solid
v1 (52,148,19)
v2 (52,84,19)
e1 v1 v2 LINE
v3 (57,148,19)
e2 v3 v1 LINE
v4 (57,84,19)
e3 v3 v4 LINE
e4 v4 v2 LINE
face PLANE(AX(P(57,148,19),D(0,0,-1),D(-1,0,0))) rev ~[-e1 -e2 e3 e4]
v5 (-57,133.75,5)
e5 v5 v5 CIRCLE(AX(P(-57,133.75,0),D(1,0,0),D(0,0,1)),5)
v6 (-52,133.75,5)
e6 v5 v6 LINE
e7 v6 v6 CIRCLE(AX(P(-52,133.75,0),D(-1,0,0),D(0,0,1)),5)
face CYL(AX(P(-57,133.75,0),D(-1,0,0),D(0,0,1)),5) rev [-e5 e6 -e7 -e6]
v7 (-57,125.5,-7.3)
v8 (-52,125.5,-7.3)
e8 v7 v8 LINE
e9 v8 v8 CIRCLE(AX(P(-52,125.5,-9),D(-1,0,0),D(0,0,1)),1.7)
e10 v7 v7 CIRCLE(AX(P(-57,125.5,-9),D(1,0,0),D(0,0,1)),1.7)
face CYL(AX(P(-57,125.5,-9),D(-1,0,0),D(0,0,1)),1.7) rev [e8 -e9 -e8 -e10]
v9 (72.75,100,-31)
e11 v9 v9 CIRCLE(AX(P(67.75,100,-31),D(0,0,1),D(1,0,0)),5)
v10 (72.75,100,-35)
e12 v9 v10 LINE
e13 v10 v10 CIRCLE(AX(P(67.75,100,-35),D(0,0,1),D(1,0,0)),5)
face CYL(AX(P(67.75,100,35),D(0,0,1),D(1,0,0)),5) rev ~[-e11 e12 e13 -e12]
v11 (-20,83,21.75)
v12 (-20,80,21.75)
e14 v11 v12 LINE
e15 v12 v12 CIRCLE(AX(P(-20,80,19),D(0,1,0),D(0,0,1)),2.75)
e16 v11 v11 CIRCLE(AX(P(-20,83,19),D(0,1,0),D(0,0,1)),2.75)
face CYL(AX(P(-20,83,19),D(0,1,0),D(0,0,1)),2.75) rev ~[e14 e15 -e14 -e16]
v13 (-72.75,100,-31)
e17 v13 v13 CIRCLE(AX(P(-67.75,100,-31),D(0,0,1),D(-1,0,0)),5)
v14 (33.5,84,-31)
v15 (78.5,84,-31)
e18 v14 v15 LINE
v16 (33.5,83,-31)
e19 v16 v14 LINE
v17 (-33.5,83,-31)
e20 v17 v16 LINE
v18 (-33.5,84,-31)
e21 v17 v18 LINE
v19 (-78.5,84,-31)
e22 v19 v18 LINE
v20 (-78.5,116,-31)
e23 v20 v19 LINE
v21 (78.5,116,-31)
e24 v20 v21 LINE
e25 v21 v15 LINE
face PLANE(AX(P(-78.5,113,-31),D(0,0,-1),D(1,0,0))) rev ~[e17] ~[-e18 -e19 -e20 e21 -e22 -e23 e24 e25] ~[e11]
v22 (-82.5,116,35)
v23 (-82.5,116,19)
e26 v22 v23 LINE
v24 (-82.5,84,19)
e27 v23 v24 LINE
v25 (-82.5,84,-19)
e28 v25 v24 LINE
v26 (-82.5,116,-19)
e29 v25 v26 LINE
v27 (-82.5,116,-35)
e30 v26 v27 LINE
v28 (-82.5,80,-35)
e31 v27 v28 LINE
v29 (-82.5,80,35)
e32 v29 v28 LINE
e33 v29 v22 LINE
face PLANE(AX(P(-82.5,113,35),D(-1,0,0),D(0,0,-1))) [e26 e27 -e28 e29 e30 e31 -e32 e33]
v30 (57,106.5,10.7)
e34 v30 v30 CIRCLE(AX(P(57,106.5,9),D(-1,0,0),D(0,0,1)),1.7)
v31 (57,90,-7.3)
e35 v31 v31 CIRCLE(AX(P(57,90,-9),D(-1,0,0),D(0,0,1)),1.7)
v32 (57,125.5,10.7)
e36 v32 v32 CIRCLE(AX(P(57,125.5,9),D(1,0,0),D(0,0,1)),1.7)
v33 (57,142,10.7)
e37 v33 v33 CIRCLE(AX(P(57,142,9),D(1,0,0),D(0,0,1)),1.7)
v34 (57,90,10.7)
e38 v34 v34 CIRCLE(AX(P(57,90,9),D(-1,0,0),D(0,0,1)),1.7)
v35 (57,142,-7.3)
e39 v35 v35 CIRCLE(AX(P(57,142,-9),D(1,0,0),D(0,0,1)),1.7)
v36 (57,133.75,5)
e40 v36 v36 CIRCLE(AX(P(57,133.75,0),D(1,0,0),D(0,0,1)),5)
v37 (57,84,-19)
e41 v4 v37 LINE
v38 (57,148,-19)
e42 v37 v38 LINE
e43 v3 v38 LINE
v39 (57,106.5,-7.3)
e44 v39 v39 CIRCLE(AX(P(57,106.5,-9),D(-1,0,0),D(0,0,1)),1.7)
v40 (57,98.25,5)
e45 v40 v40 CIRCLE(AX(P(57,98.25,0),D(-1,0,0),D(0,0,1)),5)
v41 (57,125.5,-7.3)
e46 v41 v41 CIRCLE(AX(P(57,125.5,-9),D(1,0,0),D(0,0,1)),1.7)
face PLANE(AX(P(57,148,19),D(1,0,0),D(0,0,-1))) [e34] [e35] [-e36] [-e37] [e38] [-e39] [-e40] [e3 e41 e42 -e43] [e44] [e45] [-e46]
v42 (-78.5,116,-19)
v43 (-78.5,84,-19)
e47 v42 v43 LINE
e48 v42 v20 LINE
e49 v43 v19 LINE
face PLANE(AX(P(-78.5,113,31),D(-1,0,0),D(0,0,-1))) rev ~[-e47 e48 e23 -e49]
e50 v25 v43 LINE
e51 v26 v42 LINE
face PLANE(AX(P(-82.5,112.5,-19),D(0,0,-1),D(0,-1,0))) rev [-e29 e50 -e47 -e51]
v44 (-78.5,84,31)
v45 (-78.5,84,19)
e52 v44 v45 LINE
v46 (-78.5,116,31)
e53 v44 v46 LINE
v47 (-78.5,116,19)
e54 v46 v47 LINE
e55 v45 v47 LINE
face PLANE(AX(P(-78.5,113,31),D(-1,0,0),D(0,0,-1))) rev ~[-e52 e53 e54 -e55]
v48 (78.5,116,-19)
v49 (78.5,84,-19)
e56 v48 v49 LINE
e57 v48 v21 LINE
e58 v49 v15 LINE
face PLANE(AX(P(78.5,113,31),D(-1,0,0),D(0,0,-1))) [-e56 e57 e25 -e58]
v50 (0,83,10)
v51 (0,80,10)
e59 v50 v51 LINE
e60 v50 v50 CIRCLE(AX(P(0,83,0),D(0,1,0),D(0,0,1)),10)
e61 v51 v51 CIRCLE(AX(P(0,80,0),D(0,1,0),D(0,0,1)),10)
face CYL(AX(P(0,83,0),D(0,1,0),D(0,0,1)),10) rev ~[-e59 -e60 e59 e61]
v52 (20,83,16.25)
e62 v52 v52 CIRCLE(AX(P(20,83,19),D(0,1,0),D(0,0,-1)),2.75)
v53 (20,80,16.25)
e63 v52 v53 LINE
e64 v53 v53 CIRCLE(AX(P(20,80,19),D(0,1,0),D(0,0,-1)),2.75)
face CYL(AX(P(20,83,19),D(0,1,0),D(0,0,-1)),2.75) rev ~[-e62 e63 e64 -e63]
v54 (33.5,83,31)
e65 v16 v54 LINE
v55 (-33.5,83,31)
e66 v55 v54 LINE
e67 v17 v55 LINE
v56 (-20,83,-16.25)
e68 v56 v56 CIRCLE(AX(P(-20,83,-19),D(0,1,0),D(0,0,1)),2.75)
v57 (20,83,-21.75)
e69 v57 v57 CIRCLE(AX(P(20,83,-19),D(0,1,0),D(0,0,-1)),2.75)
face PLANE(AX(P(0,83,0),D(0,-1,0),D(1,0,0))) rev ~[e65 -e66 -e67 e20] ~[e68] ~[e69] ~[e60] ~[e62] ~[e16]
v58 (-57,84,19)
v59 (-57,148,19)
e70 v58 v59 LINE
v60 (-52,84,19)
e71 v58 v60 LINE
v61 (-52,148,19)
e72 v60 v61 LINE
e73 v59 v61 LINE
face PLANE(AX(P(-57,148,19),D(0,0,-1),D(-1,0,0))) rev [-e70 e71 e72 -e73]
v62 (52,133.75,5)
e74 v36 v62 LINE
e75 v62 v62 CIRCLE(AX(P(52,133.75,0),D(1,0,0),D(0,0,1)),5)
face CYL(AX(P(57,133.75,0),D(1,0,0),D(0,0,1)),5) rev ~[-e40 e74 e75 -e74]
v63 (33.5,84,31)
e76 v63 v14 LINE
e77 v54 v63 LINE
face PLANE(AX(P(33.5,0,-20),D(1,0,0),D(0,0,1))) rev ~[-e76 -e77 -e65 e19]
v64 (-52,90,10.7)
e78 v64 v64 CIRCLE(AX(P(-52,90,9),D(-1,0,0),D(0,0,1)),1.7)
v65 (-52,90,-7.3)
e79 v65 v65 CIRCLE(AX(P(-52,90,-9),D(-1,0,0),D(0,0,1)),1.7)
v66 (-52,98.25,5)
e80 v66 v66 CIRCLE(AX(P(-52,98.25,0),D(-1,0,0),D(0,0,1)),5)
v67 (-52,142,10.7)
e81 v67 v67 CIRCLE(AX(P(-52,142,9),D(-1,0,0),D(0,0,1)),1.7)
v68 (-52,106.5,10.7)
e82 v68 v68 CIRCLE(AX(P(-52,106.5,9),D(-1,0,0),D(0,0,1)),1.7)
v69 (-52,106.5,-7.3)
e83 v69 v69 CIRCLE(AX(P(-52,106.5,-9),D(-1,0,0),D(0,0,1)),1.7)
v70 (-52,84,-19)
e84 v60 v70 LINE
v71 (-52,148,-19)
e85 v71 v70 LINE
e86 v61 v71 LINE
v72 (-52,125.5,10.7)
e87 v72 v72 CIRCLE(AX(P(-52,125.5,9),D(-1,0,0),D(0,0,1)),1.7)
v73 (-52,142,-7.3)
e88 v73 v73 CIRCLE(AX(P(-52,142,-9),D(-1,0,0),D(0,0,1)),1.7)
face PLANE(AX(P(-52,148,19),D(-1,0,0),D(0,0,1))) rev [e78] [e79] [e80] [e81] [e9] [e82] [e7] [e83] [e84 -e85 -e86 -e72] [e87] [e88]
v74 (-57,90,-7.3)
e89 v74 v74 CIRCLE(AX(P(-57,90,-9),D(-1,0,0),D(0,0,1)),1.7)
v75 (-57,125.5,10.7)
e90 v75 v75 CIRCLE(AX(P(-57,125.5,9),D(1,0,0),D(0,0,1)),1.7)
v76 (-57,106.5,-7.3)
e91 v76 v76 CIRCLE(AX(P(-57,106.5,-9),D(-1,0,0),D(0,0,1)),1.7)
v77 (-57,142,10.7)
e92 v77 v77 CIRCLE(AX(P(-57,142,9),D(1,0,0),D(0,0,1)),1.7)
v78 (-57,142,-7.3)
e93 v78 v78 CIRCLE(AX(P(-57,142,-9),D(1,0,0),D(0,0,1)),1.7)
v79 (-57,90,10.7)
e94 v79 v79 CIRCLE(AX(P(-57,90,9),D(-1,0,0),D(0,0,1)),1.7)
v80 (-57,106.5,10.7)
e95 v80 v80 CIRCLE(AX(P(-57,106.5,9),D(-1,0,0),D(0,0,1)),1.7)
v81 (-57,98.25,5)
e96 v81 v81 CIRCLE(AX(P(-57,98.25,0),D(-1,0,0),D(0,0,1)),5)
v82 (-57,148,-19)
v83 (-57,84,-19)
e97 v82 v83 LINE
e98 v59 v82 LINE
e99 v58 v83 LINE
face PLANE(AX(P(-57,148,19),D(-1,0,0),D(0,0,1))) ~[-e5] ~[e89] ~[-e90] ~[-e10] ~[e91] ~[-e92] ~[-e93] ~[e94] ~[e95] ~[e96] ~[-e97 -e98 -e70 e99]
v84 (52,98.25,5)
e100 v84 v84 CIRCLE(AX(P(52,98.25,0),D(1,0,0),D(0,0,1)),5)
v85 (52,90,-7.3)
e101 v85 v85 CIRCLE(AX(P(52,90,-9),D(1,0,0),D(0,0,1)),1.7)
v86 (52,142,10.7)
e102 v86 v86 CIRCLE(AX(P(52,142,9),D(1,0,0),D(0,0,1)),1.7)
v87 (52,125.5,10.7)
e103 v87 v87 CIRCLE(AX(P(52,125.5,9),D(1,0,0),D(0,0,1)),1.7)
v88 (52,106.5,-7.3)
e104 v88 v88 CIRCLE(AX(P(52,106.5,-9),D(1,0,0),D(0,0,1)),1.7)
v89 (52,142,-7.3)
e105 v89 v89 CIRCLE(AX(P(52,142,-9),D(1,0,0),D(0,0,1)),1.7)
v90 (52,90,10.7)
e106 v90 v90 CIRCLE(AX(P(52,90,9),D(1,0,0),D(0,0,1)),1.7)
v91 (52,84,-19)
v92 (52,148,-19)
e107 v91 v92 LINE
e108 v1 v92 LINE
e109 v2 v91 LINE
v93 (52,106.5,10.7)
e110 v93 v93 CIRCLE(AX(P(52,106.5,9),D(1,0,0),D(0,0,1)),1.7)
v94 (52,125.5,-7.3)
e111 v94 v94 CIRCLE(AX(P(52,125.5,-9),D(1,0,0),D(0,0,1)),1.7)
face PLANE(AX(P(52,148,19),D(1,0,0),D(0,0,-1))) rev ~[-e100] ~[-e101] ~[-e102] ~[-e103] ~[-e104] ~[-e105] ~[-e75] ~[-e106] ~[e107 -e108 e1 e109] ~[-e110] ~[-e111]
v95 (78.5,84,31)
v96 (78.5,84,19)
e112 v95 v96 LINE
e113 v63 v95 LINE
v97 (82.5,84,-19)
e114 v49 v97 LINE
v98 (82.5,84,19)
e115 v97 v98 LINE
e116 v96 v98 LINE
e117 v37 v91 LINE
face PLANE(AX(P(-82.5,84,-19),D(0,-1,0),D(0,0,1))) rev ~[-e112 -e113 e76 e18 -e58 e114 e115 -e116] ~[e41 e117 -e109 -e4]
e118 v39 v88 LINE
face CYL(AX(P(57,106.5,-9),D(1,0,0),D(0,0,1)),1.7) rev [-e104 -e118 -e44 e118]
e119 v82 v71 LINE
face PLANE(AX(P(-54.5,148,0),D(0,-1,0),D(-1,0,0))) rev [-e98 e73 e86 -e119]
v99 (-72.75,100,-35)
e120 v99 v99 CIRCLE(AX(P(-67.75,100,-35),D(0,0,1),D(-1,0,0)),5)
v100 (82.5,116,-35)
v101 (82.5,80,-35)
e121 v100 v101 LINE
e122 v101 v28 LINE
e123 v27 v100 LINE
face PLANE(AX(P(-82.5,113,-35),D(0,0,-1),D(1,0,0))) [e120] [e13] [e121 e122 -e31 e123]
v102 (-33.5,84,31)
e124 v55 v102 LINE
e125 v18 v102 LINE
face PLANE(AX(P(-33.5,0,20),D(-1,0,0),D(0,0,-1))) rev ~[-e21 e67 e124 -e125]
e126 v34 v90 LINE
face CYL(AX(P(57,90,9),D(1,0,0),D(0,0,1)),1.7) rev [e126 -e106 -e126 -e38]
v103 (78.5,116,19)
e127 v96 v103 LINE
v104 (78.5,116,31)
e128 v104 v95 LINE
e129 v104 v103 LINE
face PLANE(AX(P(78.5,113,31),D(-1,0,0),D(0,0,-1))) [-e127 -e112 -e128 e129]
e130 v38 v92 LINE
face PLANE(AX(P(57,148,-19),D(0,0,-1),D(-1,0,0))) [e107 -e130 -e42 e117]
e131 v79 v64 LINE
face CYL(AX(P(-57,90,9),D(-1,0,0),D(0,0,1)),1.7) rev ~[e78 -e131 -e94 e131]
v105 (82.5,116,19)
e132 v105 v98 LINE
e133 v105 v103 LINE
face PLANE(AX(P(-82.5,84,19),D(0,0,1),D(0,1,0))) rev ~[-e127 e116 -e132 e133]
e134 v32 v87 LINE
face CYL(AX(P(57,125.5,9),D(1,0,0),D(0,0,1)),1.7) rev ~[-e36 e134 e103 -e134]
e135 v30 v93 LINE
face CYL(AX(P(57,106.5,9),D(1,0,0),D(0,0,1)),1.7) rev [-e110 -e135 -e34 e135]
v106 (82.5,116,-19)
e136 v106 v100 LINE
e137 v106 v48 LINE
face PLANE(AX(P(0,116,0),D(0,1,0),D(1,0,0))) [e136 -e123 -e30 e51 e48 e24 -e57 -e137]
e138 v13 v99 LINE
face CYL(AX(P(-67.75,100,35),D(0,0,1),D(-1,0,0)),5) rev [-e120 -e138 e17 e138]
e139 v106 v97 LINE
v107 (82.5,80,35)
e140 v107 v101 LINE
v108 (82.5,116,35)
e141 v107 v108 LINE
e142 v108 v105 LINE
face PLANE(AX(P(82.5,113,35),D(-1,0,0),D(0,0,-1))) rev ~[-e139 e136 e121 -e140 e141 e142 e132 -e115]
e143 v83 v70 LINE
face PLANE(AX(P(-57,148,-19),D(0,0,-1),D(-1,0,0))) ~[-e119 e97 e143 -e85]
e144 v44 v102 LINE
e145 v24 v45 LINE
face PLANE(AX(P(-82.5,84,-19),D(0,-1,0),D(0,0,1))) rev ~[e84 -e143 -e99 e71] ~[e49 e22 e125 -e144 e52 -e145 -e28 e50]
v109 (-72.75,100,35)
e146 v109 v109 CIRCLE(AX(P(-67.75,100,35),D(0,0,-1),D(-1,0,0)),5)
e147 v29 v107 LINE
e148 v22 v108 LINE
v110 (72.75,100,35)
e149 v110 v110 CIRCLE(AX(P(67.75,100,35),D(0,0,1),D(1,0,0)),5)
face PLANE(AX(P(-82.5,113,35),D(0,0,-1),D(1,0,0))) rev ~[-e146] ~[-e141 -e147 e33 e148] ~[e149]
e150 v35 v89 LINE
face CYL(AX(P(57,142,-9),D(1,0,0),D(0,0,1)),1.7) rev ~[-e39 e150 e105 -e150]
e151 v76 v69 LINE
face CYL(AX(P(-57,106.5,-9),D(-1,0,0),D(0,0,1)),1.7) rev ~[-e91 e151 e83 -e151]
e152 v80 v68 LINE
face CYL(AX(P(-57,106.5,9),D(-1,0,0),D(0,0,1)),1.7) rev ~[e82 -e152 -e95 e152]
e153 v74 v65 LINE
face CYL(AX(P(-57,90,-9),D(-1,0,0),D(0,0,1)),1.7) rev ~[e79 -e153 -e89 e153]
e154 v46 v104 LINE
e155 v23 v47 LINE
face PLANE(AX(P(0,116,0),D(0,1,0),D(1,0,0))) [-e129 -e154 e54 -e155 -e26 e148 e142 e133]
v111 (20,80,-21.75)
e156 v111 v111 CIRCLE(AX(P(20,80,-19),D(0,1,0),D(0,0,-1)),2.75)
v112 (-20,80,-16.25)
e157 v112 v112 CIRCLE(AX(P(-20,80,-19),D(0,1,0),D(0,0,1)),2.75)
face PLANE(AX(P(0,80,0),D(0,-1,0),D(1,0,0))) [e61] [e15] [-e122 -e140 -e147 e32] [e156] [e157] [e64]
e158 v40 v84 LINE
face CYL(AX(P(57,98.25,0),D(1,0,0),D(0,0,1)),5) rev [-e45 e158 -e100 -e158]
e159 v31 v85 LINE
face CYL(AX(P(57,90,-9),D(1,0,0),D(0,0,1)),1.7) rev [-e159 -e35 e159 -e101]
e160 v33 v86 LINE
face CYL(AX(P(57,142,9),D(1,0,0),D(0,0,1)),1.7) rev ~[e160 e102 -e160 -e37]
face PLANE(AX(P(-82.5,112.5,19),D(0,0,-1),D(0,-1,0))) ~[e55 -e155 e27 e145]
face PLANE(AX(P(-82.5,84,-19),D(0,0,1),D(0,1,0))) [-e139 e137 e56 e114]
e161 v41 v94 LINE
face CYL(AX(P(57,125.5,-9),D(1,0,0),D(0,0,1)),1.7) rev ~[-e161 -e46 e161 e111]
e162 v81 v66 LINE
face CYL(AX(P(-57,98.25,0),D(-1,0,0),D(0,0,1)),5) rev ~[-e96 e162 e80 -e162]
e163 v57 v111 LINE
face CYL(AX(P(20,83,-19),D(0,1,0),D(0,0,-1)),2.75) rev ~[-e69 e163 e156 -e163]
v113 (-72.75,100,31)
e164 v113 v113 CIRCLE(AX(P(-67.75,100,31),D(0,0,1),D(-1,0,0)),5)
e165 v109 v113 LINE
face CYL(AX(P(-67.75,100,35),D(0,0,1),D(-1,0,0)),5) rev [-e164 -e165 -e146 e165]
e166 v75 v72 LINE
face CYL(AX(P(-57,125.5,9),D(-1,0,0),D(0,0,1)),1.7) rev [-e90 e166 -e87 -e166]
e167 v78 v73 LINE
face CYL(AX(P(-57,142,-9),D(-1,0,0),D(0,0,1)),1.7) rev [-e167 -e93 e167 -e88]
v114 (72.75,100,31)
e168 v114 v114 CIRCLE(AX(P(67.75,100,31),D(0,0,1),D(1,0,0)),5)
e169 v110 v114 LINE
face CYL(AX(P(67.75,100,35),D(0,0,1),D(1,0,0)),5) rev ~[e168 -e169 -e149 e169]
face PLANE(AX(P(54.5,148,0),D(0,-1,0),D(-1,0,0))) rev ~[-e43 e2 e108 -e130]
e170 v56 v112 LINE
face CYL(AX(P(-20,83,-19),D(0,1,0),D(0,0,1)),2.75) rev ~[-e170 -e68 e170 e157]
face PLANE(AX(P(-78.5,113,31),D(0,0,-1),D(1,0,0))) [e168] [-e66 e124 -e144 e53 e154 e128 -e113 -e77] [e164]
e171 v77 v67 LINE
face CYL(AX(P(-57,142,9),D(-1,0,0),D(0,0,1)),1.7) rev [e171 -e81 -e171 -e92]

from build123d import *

# Parameters (mm, degrees)
SKETCH1_W                 = 75
SKETCH1_H                 = 40
SKETCH1_R                 = 5
SKETCH1_R_2               = 1.7
SKETCH1_W_2               = 10
SKETCH1_H_2               = 20
BOSS_EXTRUDE1_DEPTH       = 3
CUT_EXTRUDE1_DEPTH        = 43.605750786
CUT_EXTRUDE1_DEPTH_BACK   = 43.605750786
SKETCH2_W                 = 67
SKETCH2_H                 = 28
BOSS_EXTRUDE3_DEPTH       = 110
BOSS_EXTRUDE3_DEPTH_BACK  = 3
SKETCH6_W                 = 67
SKETCH6_H                 = 11
CUT_EXTRUDE4_DEPTH        = 122.372360939
SKETCH7_W                 = 70
SKETCH7_H                 = 37
BOSS_EXTRUDE4_DEPTH       = 45
SKETCH8_W                 = 45
SKETCH8_H                 = 62
CUT_EXTRUDE6_DEPTH        = 29
SKETCH11_W                = 45
SKETCH11_H                = 4
CUT_EXTRUDE9_DEPTH        = 157.445677473
SKETCH9_W                 = 38
SKETCH9_H                 = 28.5
CUT_EXTRUDE10_DEPTH       = 204.024629048
SKETCH13_W                = 5
SKETCH13_H                = 38
BOSS_EXTRUDE5_DEPTH       = 32
SKETCH14_R                = 5
SKETCH14_R_2              = 1.7
CUT_EXTRUDE11_DEPTH       = 32
SKETCH15_W                = 165
SKETCH15_H                = 70
SKETCH15_W_2              = 157
SKETCH15_H_2              = 62
BOSS_EXTRUDE6_DEPTH       = 3
SKETCH16_W                = 20
SKETCH16_H                = 4.820648258
CUT_EXTRUDE12_DEPTH       = 159.626132778
SKETCH18_R                = 5
CUT_EXTRUDE14_DEPTH       = 159.626132778
MIRROR6_COPY_1_SKETCH_W   = 5
MIRROR6_COPY_1_SKETCH_H   = 38
MIRROR6_COPY_1_DEPTH      = 32
MIRROR6_COPY_2_SKETCH_R   = 5
MIRROR6_COPY_2_SKETCH_R_2 = 1.7
MIRROR6_COPY_2_DEPTH      = 32
SKETCH19_W                = 38
SKETCH19_H                = 3.5
CUT_EXTRUDE15_DEPTH       = 10
SKETCH20_R                = 1.2
CUT_EXTRUDE16_DEPTH       = 10
SKETCH21_W                = 10
SKETCH21_H                = 80
CUT_EXTRUDE17_DEPTH       = 184.330984833
SKETCH22_W                = 55
SKETCH22_H                = 80
CUT_EXTRUDE18_DEPTH       = 184.330984833
SKETCH23_W                = 67
SKETCH23_H                = 62
BOSS_EXTRUDE7_DEPTH       = 3
SKETCH24_R                = 10
SKETCH24_R_2              = 2.75
CUT_EXTRUDE19_DEPTH       = 111.707949127


with BuildPart() as part:
    # Sketch1 → Boss-Extrude1 (new body)
    with BuildSketch(Plane(origin=(0, 0, 0), x_dir=(1, 0, 0), z_dir=(0, 1, 0))):
        Rectangle(SKETCH1_W, SKETCH1_H)
        with Locations(Location((-21, 0, 0), (0, 0, 270))):
            Circle(SKETCH1_R, mode=Mode.SUBTRACT)
        with Locations(Location((-30, 8.25, 0), (0, 0, 270))):
            Circle(SKETCH1_R_2, mode=Mode.SUBTRACT)
        with Locations(Location((-12, 8.25, 0), (0, 0, 270))):
            Circle(SKETCH1_R_2, mode=Mode.SUBTRACT)
        with Locations(Location((-12, -8.25, 0), (0, 0, 270))):
            Circle(SKETCH1_R_2, mode=Mode.SUBTRACT)
        with Locations(Location((-30, -8.25, 0), (0, 0, 270))):
            Circle(SKETCH1_R_2, mode=Mode.SUBTRACT)
        with Locations(Location((12, 8.25, 0), (0, 0, 90))):
            Circle(SKETCH1_R_2, mode=Mode.SUBTRACT)
        with Locations(Location((12, -8.25, 0), (0, 0, 90))):
            Circle(SKETCH1_R_2, mode=Mode.SUBTRACT)
        with Locations(Location((21, 0, 0), (0, 0, 90))):
            Circle(SKETCH1_R, mode=Mode.SUBTRACT)
        with Locations(Location((30, -8.25, 0), (0, 0, 90))):
            Circle(SKETCH1_R_2, mode=Mode.SUBTRACT)
        with Locations(Location((30, 8.25, 0), (0, 0, 90))):
            Circle(SKETCH1_R_2, mode=Mode.SUBTRACT)
        Rectangle(SKETCH1_W_2, SKETCH1_H_2, mode=Mode.SUBTRACT)
    extrude(amount=BOSS_EXTRUDE1_DEPTH)

    # Sketch2 → Cut-Extrude1 (cut, two sides: drawn at the far end of the back side and taken through both)
    with BuildSketch(Plane(origin=(0, 3, 0), x_dir=(1, 0, 0), z_dir=(0, 1, 0)).offset(-CUT_EXTRUDE1_DEPTH_BACK)):
        Rectangle(SKETCH2_W, SKETCH2_H)
    extrude(amount=CUT_EXTRUDE1_DEPTH + CUT_EXTRUDE1_DEPTH_BACK, mode=Mode.SUBTRACT)

    # Sketch3 → Boss-Extrude3 (add, two sides: drawn at the far end of the back side and taken through both)
    with BuildSketch(Plane(origin=(0, 3, 0), x_dir=(1, 0, 0), z_dir=(0, 1, 0)).offset(-BOSS_EXTRUDE3_DEPTH_BACK)):
        Polygon((37.5, -35), (37.5, -20), (33.5, -20), (-33.5, -20), (-37.5, -20), (-37.5, -35), align=None)
        Polygon((33.5, 20), (37.5, 20), (37.5, 35), (-37.5, 35), (-37.5, 20), (-33.5, 20), align=None)
        Polygon((37.5, -20), (37.5, 20), (33.5, 20), (33.5, 14), (33.5, -14), (33.5, -20), align=None)
        Polygon((-33.5, 14), (-33.5, 20), (-37.5, 20), (-37.5, -20), (-33.5, -20), (-33.5, -14), align=None)
    extrude(amount=BOSS_EXTRUDE3_DEPTH + BOSS_EXTRUDE3_DEPTH_BACK)

    # Sketch6 → Cut-Extrude4 (cut, through all)
    with BuildSketch(Plane(origin=(0, 3, 0), x_dir=(1, 0, 0), z_dir=(0, 1, 0))):
        with Locations((0, -25.5)):
            Rectangle(SKETCH6_W, SKETCH6_H)
        with Locations((0, 25.5)):
            Rectangle(SKETCH6_W, SKETCH6_H)
    extrude(amount=CUT_EXTRUDE4_DEPTH, mode=Mode.SUBTRACT)

    # Sketch7 → Boss-Extrude4 (add)
    with BuildSketch(Plane.ZY.offset(37.5)):
        with Locations((0, 94.5)):
            Rectangle(SKETCH7_W, SKETCH7_H)
    boss_extrude4 = extrude(amount=BOSS_EXTRUDE4_DEPTH)

    # Mirror2: Boss-Extrude4 across plane
    add(boss_extrude4.mirror(Plane(origin=(0, 0, 0), x_dir=(0, 0, 1), z_dir=(1, 0, 0))))

    # Sketch8 → Cut-Extrude6 (cut)
    with BuildSketch(Plane(origin=(0, 113, 0), x_dir=(1, 0, 0), z_dir=(0, 1, 0))):
        with Locations((-56, 0)):
            Rectangle(SKETCH8_W, SKETCH8_H)
        with Locations((56, 0)):
            Rectangle(SKETCH8_W, SKETCH8_H)
    extrude(amount=-CUT_EXTRUDE6_DEPTH, mode=Mode.SUBTRACT)

    # Sketch11 → Cut-Extrude9 (cut, through all)
    with BuildSketch(Plane.XY.offset(35)):
        with Locations((-60, 78)):
            Rectangle(SKETCH11_W, SKETCH11_H)
        with Locations((60, 78)):
            Rectangle(SKETCH11_W, SKETCH11_H)
    extrude(amount=-CUT_EXTRUDE9_DEPTH, mode=Mode.SUBTRACT)

    # Sketch9 → Cut-Extrude10 (cut, through all)
    with BuildSketch(Plane.ZY.offset(82.5)):
        with Locations((0, 98.25)):
            Rectangle(SKETCH9_W, SKETCH9_H)
    extrude(amount=-CUT_EXTRUDE10_DEPTH, mode=Mode.SUBTRACT)

    # Sketch13 → Boss-Extrude5 (add)
    with BuildSketch(Plane(origin=(0, 84, 0), x_dir=(1, 0, 0), z_dir=(0, 1, 0))):
        with Locations((-54.5, 0)):
            Rectangle(SKETCH13_W, SKETCH13_H)
    boss_extrude5 = extrude(amount=BOSS_EXTRUDE5_DEPTH)

    # Sketch14 → Cut-Extrude11 (cut)
    with BuildSketch(Plane.ZY.offset(57)):
        with Locations((0, 98.25)):
            Circle(SKETCH14_R)
        with Locations((-9, 106.5)):
            Circle(SKETCH14_R_2)
        with Locations((9, 106.5)):
            Circle(SKETCH14_R_2)
        with Locations((9, 90)):
            Circle(SKETCH14_R_2)
        with Locations((-9, 90)):
            Circle(SKETCH14_R_2)
    cut_extrude11 = extrude(amount=-CUT_EXTRUDE11_DEPTH, mode=Mode.SUBTRACT)

    # Mirror4: Boss-Extrude5, Cut-Extrude11 across plane
    add(boss_extrude5.mirror(Plane(origin=(0, 0, 0), x_dir=(0, 0, 1), z_dir=(1, 0, 0))))
    add(cut_extrude11.mirror(Plane(origin=(0, 0, 0), x_dir=(0, 0, 1), z_dir=(1, 0, 0))), mode=Mode.SUBTRACT)

    # Sketch15 → Boss-Extrude6 (add)
    with BuildSketch(Plane(origin=(0, 113, 0), x_dir=(1, 0, 0), z_dir=(0, 1, 0))):
        Rectangle(SKETCH15_W, SKETCH15_H)
        Rectangle(SKETCH15_W_2, SKETCH15_H_2, mode=Mode.SUBTRACT)
    extrude(amount=BOSS_EXTRUDE6_DEPTH)

    # Sketch16 → Cut-Extrude12 (cut, through all)
    with BuildSketch(Plane.XY.offset(35)):
        with Locations((0, 11.636111214)):
            Rectangle(SKETCH16_W, SKETCH16_H)
    extrude(amount=-CUT_EXTRUDE12_DEPTH, mode=Mode.SUBTRACT)

    # Sketch18 → Cut-Extrude14 (cut, through all)
    with BuildSketch(Plane.XY.offset(35)):
        with Locations((67.75, 100)):
            Circle(SKETCH18_R)
    cut_extrude14 = extrude(amount=-CUT_EXTRUDE14_DEPTH, mode=Mode.SUBTRACT)

    # Mirror5: Cut-Extrude14 across plane
    add(cut_extrude14.mirror(Plane(origin=(0, 0, 0), x_dir=(0, 0, 1), z_dir=(1, 0, 0))), mode=Mode.SUBTRACT)

    # Mirror6: Boss-Extrude5, Cut-Extrude11 across plane
    add(boss_extrude5.mirror(Plane.ZX.offset(116)))
    add(cut_extrude11.mirror(Plane.ZX.offset(116)), mode=Mode.SUBTRACT)

    # Mirror6 copy 1 sketch → Mirror6 copy 1 (add)
    with BuildSketch(Plane(origin=(0, 148, 0), x_dir=(-1, 0, 0), z_dir=(0, -1, 0))):
        with Locations((-54.5, 0)):
            Rectangle(MIRROR6_COPY_1_SKETCH_W, MIRROR6_COPY_1_SKETCH_H)
    extrude(amount=MIRROR6_COPY_1_DEPTH)

    # Mirror6 copy 2 sketch → Mirror6 copy 2 (cut)
    with BuildSketch(Plane(origin=(57, 232, 0), x_dir=(0, 0, 1), z_dir=(1, 0, 0))):
        with Locations((0, 98.25)):
            Circle(MIRROR6_COPY_2_SKETCH_R)
        with Locations((-9, 106.5)):
            Circle(MIRROR6_COPY_2_SKETCH_R_2)
        with Locations((9, 106.5)):
            Circle(MIRROR6_COPY_2_SKETCH_R_2)
        with Locations((9, 90)):
            Circle(MIRROR6_COPY_2_SKETCH_R_2)
        with Locations((-9, 90)):
            Circle(MIRROR6_COPY_2_SKETCH_R_2)
    extrude(amount=-MIRROR6_COPY_2_DEPTH, mode=Mode.SUBTRACT)

    # Sketch19 → Cut-Extrude15 (cut)
    with BuildSketch(Plane(origin=(82.5, 0, 0), x_dir=(0, 0, -1), z_dir=(1, 0, 0))):
        with Locations((0, 114.25)):
            Rectangle(SKETCH19_W, SKETCH19_H)
    cut_extrude15 = extrude(amount=-CUT_EXTRUDE15_DEPTH, mode=Mode.SUBTRACT)

    # Mirror7: Cut-Extrude15 across plane
    add(cut_extrude15.mirror(Plane(origin=(0, 0, 0), x_dir=(0, 0, 1), z_dir=(1, 0, 0))), mode=Mode.SUBTRACT)

    # Sketch20 → Cut-Extrude16 (cut)
    with BuildSketch(Plane(origin=(0, 3, 0), x_dir=(1, 0, 0), z_dir=(0, 1, 0))):
        with Locations(Location((-24, 17.5, 0), (0, 0, 270))):
            Circle(SKETCH20_R)
        with Locations(Location((-12, 17.5, 0), (0, 0, 270))):
            Circle(SKETCH20_R)
        with Locations(Location((12, 17.5, 0), (0, 0, 270))):
            Circle(SKETCH20_R)
        with Locations(Location((-24, -17.5, 0), (0, 0, 270))):
            Circle(SKETCH20_R)
        with Locations(Location((-12, -17.5, 0), (0, 0, 270))):
            Circle(SKETCH20_R)
        with Locations(Location((24, 17.5, 0), (0, 0, 270))):
            Circle(SKETCH20_R)
        with Locations(Location((12, -17.5, 0), (0, 0, 270))):
            Circle(SKETCH20_R)
        with Locations(Location((24, -17.5, 0), (0, 0, 270))):
            Circle(SKETCH20_R)
    extrude(amount=-CUT_EXTRUDE16_DEPTH, mode=Mode.SUBTRACT)

    # Sketch21 → Cut-Extrude17 (cut, through all)
    with BuildSketch(Plane.XY.offset(35)):
        with Locations((32.5, 40)):
            Rectangle(SKETCH21_W, SKETCH21_H)
        with Locations((-32.5, 40)):
            Rectangle(SKETCH21_W, SKETCH21_H)
    extrude(amount=-CUT_EXTRUDE17_DEPTH, mode=Mode.SUBTRACT)

    # Sketch22 → Cut-Extrude18 (cut, through all)
    with BuildSketch(Plane.XY.offset(35)):
        with Locations((0, 40)):
            Rectangle(SKETCH22_W, SKETCH22_H)
    extrude(amount=-CUT_EXTRUDE18_DEPTH, mode=Mode.SUBTRACT)

    # Sketch23 → Boss-Extrude7 (add)
    with BuildSketch(Plane.XZ.offset(-80)):
        Rectangle(SKETCH23_W, SKETCH23_H)
    extrude(amount=-BOSS_EXTRUDE7_DEPTH)

    # Sketch24 → Cut-Extrude19 (cut, through all)
    with BuildSketch(Plane(origin=(0, 83, 0), x_dir=(1, 0, 0), z_dir=(0, 1, 0))):
        with Locations(Location((0, 0, 0), (0, 0, 270))):
            Circle(SKETCH24_R)
        with Locations(Location((-20, 19, 0), (0, 0, 270))):
            Circle(SKETCH24_R_2)
        with Locations(Location((-20, -19, 0), (0, 0, 270))):
            Circle(SKETCH24_R_2)
        with Locations(Location((20, -19, 0), (0, 0, 90))):
            Circle(SKETCH24_R_2)
        with Locations(Location((20, 19, 0), (0, 0, 90))):
            Circle(SKETCH24_R_2)
    extrude(amount=-CUT_EXTRUDE19_DEPTH, mode=Mode.SUBTRACT)


solid = part.part
